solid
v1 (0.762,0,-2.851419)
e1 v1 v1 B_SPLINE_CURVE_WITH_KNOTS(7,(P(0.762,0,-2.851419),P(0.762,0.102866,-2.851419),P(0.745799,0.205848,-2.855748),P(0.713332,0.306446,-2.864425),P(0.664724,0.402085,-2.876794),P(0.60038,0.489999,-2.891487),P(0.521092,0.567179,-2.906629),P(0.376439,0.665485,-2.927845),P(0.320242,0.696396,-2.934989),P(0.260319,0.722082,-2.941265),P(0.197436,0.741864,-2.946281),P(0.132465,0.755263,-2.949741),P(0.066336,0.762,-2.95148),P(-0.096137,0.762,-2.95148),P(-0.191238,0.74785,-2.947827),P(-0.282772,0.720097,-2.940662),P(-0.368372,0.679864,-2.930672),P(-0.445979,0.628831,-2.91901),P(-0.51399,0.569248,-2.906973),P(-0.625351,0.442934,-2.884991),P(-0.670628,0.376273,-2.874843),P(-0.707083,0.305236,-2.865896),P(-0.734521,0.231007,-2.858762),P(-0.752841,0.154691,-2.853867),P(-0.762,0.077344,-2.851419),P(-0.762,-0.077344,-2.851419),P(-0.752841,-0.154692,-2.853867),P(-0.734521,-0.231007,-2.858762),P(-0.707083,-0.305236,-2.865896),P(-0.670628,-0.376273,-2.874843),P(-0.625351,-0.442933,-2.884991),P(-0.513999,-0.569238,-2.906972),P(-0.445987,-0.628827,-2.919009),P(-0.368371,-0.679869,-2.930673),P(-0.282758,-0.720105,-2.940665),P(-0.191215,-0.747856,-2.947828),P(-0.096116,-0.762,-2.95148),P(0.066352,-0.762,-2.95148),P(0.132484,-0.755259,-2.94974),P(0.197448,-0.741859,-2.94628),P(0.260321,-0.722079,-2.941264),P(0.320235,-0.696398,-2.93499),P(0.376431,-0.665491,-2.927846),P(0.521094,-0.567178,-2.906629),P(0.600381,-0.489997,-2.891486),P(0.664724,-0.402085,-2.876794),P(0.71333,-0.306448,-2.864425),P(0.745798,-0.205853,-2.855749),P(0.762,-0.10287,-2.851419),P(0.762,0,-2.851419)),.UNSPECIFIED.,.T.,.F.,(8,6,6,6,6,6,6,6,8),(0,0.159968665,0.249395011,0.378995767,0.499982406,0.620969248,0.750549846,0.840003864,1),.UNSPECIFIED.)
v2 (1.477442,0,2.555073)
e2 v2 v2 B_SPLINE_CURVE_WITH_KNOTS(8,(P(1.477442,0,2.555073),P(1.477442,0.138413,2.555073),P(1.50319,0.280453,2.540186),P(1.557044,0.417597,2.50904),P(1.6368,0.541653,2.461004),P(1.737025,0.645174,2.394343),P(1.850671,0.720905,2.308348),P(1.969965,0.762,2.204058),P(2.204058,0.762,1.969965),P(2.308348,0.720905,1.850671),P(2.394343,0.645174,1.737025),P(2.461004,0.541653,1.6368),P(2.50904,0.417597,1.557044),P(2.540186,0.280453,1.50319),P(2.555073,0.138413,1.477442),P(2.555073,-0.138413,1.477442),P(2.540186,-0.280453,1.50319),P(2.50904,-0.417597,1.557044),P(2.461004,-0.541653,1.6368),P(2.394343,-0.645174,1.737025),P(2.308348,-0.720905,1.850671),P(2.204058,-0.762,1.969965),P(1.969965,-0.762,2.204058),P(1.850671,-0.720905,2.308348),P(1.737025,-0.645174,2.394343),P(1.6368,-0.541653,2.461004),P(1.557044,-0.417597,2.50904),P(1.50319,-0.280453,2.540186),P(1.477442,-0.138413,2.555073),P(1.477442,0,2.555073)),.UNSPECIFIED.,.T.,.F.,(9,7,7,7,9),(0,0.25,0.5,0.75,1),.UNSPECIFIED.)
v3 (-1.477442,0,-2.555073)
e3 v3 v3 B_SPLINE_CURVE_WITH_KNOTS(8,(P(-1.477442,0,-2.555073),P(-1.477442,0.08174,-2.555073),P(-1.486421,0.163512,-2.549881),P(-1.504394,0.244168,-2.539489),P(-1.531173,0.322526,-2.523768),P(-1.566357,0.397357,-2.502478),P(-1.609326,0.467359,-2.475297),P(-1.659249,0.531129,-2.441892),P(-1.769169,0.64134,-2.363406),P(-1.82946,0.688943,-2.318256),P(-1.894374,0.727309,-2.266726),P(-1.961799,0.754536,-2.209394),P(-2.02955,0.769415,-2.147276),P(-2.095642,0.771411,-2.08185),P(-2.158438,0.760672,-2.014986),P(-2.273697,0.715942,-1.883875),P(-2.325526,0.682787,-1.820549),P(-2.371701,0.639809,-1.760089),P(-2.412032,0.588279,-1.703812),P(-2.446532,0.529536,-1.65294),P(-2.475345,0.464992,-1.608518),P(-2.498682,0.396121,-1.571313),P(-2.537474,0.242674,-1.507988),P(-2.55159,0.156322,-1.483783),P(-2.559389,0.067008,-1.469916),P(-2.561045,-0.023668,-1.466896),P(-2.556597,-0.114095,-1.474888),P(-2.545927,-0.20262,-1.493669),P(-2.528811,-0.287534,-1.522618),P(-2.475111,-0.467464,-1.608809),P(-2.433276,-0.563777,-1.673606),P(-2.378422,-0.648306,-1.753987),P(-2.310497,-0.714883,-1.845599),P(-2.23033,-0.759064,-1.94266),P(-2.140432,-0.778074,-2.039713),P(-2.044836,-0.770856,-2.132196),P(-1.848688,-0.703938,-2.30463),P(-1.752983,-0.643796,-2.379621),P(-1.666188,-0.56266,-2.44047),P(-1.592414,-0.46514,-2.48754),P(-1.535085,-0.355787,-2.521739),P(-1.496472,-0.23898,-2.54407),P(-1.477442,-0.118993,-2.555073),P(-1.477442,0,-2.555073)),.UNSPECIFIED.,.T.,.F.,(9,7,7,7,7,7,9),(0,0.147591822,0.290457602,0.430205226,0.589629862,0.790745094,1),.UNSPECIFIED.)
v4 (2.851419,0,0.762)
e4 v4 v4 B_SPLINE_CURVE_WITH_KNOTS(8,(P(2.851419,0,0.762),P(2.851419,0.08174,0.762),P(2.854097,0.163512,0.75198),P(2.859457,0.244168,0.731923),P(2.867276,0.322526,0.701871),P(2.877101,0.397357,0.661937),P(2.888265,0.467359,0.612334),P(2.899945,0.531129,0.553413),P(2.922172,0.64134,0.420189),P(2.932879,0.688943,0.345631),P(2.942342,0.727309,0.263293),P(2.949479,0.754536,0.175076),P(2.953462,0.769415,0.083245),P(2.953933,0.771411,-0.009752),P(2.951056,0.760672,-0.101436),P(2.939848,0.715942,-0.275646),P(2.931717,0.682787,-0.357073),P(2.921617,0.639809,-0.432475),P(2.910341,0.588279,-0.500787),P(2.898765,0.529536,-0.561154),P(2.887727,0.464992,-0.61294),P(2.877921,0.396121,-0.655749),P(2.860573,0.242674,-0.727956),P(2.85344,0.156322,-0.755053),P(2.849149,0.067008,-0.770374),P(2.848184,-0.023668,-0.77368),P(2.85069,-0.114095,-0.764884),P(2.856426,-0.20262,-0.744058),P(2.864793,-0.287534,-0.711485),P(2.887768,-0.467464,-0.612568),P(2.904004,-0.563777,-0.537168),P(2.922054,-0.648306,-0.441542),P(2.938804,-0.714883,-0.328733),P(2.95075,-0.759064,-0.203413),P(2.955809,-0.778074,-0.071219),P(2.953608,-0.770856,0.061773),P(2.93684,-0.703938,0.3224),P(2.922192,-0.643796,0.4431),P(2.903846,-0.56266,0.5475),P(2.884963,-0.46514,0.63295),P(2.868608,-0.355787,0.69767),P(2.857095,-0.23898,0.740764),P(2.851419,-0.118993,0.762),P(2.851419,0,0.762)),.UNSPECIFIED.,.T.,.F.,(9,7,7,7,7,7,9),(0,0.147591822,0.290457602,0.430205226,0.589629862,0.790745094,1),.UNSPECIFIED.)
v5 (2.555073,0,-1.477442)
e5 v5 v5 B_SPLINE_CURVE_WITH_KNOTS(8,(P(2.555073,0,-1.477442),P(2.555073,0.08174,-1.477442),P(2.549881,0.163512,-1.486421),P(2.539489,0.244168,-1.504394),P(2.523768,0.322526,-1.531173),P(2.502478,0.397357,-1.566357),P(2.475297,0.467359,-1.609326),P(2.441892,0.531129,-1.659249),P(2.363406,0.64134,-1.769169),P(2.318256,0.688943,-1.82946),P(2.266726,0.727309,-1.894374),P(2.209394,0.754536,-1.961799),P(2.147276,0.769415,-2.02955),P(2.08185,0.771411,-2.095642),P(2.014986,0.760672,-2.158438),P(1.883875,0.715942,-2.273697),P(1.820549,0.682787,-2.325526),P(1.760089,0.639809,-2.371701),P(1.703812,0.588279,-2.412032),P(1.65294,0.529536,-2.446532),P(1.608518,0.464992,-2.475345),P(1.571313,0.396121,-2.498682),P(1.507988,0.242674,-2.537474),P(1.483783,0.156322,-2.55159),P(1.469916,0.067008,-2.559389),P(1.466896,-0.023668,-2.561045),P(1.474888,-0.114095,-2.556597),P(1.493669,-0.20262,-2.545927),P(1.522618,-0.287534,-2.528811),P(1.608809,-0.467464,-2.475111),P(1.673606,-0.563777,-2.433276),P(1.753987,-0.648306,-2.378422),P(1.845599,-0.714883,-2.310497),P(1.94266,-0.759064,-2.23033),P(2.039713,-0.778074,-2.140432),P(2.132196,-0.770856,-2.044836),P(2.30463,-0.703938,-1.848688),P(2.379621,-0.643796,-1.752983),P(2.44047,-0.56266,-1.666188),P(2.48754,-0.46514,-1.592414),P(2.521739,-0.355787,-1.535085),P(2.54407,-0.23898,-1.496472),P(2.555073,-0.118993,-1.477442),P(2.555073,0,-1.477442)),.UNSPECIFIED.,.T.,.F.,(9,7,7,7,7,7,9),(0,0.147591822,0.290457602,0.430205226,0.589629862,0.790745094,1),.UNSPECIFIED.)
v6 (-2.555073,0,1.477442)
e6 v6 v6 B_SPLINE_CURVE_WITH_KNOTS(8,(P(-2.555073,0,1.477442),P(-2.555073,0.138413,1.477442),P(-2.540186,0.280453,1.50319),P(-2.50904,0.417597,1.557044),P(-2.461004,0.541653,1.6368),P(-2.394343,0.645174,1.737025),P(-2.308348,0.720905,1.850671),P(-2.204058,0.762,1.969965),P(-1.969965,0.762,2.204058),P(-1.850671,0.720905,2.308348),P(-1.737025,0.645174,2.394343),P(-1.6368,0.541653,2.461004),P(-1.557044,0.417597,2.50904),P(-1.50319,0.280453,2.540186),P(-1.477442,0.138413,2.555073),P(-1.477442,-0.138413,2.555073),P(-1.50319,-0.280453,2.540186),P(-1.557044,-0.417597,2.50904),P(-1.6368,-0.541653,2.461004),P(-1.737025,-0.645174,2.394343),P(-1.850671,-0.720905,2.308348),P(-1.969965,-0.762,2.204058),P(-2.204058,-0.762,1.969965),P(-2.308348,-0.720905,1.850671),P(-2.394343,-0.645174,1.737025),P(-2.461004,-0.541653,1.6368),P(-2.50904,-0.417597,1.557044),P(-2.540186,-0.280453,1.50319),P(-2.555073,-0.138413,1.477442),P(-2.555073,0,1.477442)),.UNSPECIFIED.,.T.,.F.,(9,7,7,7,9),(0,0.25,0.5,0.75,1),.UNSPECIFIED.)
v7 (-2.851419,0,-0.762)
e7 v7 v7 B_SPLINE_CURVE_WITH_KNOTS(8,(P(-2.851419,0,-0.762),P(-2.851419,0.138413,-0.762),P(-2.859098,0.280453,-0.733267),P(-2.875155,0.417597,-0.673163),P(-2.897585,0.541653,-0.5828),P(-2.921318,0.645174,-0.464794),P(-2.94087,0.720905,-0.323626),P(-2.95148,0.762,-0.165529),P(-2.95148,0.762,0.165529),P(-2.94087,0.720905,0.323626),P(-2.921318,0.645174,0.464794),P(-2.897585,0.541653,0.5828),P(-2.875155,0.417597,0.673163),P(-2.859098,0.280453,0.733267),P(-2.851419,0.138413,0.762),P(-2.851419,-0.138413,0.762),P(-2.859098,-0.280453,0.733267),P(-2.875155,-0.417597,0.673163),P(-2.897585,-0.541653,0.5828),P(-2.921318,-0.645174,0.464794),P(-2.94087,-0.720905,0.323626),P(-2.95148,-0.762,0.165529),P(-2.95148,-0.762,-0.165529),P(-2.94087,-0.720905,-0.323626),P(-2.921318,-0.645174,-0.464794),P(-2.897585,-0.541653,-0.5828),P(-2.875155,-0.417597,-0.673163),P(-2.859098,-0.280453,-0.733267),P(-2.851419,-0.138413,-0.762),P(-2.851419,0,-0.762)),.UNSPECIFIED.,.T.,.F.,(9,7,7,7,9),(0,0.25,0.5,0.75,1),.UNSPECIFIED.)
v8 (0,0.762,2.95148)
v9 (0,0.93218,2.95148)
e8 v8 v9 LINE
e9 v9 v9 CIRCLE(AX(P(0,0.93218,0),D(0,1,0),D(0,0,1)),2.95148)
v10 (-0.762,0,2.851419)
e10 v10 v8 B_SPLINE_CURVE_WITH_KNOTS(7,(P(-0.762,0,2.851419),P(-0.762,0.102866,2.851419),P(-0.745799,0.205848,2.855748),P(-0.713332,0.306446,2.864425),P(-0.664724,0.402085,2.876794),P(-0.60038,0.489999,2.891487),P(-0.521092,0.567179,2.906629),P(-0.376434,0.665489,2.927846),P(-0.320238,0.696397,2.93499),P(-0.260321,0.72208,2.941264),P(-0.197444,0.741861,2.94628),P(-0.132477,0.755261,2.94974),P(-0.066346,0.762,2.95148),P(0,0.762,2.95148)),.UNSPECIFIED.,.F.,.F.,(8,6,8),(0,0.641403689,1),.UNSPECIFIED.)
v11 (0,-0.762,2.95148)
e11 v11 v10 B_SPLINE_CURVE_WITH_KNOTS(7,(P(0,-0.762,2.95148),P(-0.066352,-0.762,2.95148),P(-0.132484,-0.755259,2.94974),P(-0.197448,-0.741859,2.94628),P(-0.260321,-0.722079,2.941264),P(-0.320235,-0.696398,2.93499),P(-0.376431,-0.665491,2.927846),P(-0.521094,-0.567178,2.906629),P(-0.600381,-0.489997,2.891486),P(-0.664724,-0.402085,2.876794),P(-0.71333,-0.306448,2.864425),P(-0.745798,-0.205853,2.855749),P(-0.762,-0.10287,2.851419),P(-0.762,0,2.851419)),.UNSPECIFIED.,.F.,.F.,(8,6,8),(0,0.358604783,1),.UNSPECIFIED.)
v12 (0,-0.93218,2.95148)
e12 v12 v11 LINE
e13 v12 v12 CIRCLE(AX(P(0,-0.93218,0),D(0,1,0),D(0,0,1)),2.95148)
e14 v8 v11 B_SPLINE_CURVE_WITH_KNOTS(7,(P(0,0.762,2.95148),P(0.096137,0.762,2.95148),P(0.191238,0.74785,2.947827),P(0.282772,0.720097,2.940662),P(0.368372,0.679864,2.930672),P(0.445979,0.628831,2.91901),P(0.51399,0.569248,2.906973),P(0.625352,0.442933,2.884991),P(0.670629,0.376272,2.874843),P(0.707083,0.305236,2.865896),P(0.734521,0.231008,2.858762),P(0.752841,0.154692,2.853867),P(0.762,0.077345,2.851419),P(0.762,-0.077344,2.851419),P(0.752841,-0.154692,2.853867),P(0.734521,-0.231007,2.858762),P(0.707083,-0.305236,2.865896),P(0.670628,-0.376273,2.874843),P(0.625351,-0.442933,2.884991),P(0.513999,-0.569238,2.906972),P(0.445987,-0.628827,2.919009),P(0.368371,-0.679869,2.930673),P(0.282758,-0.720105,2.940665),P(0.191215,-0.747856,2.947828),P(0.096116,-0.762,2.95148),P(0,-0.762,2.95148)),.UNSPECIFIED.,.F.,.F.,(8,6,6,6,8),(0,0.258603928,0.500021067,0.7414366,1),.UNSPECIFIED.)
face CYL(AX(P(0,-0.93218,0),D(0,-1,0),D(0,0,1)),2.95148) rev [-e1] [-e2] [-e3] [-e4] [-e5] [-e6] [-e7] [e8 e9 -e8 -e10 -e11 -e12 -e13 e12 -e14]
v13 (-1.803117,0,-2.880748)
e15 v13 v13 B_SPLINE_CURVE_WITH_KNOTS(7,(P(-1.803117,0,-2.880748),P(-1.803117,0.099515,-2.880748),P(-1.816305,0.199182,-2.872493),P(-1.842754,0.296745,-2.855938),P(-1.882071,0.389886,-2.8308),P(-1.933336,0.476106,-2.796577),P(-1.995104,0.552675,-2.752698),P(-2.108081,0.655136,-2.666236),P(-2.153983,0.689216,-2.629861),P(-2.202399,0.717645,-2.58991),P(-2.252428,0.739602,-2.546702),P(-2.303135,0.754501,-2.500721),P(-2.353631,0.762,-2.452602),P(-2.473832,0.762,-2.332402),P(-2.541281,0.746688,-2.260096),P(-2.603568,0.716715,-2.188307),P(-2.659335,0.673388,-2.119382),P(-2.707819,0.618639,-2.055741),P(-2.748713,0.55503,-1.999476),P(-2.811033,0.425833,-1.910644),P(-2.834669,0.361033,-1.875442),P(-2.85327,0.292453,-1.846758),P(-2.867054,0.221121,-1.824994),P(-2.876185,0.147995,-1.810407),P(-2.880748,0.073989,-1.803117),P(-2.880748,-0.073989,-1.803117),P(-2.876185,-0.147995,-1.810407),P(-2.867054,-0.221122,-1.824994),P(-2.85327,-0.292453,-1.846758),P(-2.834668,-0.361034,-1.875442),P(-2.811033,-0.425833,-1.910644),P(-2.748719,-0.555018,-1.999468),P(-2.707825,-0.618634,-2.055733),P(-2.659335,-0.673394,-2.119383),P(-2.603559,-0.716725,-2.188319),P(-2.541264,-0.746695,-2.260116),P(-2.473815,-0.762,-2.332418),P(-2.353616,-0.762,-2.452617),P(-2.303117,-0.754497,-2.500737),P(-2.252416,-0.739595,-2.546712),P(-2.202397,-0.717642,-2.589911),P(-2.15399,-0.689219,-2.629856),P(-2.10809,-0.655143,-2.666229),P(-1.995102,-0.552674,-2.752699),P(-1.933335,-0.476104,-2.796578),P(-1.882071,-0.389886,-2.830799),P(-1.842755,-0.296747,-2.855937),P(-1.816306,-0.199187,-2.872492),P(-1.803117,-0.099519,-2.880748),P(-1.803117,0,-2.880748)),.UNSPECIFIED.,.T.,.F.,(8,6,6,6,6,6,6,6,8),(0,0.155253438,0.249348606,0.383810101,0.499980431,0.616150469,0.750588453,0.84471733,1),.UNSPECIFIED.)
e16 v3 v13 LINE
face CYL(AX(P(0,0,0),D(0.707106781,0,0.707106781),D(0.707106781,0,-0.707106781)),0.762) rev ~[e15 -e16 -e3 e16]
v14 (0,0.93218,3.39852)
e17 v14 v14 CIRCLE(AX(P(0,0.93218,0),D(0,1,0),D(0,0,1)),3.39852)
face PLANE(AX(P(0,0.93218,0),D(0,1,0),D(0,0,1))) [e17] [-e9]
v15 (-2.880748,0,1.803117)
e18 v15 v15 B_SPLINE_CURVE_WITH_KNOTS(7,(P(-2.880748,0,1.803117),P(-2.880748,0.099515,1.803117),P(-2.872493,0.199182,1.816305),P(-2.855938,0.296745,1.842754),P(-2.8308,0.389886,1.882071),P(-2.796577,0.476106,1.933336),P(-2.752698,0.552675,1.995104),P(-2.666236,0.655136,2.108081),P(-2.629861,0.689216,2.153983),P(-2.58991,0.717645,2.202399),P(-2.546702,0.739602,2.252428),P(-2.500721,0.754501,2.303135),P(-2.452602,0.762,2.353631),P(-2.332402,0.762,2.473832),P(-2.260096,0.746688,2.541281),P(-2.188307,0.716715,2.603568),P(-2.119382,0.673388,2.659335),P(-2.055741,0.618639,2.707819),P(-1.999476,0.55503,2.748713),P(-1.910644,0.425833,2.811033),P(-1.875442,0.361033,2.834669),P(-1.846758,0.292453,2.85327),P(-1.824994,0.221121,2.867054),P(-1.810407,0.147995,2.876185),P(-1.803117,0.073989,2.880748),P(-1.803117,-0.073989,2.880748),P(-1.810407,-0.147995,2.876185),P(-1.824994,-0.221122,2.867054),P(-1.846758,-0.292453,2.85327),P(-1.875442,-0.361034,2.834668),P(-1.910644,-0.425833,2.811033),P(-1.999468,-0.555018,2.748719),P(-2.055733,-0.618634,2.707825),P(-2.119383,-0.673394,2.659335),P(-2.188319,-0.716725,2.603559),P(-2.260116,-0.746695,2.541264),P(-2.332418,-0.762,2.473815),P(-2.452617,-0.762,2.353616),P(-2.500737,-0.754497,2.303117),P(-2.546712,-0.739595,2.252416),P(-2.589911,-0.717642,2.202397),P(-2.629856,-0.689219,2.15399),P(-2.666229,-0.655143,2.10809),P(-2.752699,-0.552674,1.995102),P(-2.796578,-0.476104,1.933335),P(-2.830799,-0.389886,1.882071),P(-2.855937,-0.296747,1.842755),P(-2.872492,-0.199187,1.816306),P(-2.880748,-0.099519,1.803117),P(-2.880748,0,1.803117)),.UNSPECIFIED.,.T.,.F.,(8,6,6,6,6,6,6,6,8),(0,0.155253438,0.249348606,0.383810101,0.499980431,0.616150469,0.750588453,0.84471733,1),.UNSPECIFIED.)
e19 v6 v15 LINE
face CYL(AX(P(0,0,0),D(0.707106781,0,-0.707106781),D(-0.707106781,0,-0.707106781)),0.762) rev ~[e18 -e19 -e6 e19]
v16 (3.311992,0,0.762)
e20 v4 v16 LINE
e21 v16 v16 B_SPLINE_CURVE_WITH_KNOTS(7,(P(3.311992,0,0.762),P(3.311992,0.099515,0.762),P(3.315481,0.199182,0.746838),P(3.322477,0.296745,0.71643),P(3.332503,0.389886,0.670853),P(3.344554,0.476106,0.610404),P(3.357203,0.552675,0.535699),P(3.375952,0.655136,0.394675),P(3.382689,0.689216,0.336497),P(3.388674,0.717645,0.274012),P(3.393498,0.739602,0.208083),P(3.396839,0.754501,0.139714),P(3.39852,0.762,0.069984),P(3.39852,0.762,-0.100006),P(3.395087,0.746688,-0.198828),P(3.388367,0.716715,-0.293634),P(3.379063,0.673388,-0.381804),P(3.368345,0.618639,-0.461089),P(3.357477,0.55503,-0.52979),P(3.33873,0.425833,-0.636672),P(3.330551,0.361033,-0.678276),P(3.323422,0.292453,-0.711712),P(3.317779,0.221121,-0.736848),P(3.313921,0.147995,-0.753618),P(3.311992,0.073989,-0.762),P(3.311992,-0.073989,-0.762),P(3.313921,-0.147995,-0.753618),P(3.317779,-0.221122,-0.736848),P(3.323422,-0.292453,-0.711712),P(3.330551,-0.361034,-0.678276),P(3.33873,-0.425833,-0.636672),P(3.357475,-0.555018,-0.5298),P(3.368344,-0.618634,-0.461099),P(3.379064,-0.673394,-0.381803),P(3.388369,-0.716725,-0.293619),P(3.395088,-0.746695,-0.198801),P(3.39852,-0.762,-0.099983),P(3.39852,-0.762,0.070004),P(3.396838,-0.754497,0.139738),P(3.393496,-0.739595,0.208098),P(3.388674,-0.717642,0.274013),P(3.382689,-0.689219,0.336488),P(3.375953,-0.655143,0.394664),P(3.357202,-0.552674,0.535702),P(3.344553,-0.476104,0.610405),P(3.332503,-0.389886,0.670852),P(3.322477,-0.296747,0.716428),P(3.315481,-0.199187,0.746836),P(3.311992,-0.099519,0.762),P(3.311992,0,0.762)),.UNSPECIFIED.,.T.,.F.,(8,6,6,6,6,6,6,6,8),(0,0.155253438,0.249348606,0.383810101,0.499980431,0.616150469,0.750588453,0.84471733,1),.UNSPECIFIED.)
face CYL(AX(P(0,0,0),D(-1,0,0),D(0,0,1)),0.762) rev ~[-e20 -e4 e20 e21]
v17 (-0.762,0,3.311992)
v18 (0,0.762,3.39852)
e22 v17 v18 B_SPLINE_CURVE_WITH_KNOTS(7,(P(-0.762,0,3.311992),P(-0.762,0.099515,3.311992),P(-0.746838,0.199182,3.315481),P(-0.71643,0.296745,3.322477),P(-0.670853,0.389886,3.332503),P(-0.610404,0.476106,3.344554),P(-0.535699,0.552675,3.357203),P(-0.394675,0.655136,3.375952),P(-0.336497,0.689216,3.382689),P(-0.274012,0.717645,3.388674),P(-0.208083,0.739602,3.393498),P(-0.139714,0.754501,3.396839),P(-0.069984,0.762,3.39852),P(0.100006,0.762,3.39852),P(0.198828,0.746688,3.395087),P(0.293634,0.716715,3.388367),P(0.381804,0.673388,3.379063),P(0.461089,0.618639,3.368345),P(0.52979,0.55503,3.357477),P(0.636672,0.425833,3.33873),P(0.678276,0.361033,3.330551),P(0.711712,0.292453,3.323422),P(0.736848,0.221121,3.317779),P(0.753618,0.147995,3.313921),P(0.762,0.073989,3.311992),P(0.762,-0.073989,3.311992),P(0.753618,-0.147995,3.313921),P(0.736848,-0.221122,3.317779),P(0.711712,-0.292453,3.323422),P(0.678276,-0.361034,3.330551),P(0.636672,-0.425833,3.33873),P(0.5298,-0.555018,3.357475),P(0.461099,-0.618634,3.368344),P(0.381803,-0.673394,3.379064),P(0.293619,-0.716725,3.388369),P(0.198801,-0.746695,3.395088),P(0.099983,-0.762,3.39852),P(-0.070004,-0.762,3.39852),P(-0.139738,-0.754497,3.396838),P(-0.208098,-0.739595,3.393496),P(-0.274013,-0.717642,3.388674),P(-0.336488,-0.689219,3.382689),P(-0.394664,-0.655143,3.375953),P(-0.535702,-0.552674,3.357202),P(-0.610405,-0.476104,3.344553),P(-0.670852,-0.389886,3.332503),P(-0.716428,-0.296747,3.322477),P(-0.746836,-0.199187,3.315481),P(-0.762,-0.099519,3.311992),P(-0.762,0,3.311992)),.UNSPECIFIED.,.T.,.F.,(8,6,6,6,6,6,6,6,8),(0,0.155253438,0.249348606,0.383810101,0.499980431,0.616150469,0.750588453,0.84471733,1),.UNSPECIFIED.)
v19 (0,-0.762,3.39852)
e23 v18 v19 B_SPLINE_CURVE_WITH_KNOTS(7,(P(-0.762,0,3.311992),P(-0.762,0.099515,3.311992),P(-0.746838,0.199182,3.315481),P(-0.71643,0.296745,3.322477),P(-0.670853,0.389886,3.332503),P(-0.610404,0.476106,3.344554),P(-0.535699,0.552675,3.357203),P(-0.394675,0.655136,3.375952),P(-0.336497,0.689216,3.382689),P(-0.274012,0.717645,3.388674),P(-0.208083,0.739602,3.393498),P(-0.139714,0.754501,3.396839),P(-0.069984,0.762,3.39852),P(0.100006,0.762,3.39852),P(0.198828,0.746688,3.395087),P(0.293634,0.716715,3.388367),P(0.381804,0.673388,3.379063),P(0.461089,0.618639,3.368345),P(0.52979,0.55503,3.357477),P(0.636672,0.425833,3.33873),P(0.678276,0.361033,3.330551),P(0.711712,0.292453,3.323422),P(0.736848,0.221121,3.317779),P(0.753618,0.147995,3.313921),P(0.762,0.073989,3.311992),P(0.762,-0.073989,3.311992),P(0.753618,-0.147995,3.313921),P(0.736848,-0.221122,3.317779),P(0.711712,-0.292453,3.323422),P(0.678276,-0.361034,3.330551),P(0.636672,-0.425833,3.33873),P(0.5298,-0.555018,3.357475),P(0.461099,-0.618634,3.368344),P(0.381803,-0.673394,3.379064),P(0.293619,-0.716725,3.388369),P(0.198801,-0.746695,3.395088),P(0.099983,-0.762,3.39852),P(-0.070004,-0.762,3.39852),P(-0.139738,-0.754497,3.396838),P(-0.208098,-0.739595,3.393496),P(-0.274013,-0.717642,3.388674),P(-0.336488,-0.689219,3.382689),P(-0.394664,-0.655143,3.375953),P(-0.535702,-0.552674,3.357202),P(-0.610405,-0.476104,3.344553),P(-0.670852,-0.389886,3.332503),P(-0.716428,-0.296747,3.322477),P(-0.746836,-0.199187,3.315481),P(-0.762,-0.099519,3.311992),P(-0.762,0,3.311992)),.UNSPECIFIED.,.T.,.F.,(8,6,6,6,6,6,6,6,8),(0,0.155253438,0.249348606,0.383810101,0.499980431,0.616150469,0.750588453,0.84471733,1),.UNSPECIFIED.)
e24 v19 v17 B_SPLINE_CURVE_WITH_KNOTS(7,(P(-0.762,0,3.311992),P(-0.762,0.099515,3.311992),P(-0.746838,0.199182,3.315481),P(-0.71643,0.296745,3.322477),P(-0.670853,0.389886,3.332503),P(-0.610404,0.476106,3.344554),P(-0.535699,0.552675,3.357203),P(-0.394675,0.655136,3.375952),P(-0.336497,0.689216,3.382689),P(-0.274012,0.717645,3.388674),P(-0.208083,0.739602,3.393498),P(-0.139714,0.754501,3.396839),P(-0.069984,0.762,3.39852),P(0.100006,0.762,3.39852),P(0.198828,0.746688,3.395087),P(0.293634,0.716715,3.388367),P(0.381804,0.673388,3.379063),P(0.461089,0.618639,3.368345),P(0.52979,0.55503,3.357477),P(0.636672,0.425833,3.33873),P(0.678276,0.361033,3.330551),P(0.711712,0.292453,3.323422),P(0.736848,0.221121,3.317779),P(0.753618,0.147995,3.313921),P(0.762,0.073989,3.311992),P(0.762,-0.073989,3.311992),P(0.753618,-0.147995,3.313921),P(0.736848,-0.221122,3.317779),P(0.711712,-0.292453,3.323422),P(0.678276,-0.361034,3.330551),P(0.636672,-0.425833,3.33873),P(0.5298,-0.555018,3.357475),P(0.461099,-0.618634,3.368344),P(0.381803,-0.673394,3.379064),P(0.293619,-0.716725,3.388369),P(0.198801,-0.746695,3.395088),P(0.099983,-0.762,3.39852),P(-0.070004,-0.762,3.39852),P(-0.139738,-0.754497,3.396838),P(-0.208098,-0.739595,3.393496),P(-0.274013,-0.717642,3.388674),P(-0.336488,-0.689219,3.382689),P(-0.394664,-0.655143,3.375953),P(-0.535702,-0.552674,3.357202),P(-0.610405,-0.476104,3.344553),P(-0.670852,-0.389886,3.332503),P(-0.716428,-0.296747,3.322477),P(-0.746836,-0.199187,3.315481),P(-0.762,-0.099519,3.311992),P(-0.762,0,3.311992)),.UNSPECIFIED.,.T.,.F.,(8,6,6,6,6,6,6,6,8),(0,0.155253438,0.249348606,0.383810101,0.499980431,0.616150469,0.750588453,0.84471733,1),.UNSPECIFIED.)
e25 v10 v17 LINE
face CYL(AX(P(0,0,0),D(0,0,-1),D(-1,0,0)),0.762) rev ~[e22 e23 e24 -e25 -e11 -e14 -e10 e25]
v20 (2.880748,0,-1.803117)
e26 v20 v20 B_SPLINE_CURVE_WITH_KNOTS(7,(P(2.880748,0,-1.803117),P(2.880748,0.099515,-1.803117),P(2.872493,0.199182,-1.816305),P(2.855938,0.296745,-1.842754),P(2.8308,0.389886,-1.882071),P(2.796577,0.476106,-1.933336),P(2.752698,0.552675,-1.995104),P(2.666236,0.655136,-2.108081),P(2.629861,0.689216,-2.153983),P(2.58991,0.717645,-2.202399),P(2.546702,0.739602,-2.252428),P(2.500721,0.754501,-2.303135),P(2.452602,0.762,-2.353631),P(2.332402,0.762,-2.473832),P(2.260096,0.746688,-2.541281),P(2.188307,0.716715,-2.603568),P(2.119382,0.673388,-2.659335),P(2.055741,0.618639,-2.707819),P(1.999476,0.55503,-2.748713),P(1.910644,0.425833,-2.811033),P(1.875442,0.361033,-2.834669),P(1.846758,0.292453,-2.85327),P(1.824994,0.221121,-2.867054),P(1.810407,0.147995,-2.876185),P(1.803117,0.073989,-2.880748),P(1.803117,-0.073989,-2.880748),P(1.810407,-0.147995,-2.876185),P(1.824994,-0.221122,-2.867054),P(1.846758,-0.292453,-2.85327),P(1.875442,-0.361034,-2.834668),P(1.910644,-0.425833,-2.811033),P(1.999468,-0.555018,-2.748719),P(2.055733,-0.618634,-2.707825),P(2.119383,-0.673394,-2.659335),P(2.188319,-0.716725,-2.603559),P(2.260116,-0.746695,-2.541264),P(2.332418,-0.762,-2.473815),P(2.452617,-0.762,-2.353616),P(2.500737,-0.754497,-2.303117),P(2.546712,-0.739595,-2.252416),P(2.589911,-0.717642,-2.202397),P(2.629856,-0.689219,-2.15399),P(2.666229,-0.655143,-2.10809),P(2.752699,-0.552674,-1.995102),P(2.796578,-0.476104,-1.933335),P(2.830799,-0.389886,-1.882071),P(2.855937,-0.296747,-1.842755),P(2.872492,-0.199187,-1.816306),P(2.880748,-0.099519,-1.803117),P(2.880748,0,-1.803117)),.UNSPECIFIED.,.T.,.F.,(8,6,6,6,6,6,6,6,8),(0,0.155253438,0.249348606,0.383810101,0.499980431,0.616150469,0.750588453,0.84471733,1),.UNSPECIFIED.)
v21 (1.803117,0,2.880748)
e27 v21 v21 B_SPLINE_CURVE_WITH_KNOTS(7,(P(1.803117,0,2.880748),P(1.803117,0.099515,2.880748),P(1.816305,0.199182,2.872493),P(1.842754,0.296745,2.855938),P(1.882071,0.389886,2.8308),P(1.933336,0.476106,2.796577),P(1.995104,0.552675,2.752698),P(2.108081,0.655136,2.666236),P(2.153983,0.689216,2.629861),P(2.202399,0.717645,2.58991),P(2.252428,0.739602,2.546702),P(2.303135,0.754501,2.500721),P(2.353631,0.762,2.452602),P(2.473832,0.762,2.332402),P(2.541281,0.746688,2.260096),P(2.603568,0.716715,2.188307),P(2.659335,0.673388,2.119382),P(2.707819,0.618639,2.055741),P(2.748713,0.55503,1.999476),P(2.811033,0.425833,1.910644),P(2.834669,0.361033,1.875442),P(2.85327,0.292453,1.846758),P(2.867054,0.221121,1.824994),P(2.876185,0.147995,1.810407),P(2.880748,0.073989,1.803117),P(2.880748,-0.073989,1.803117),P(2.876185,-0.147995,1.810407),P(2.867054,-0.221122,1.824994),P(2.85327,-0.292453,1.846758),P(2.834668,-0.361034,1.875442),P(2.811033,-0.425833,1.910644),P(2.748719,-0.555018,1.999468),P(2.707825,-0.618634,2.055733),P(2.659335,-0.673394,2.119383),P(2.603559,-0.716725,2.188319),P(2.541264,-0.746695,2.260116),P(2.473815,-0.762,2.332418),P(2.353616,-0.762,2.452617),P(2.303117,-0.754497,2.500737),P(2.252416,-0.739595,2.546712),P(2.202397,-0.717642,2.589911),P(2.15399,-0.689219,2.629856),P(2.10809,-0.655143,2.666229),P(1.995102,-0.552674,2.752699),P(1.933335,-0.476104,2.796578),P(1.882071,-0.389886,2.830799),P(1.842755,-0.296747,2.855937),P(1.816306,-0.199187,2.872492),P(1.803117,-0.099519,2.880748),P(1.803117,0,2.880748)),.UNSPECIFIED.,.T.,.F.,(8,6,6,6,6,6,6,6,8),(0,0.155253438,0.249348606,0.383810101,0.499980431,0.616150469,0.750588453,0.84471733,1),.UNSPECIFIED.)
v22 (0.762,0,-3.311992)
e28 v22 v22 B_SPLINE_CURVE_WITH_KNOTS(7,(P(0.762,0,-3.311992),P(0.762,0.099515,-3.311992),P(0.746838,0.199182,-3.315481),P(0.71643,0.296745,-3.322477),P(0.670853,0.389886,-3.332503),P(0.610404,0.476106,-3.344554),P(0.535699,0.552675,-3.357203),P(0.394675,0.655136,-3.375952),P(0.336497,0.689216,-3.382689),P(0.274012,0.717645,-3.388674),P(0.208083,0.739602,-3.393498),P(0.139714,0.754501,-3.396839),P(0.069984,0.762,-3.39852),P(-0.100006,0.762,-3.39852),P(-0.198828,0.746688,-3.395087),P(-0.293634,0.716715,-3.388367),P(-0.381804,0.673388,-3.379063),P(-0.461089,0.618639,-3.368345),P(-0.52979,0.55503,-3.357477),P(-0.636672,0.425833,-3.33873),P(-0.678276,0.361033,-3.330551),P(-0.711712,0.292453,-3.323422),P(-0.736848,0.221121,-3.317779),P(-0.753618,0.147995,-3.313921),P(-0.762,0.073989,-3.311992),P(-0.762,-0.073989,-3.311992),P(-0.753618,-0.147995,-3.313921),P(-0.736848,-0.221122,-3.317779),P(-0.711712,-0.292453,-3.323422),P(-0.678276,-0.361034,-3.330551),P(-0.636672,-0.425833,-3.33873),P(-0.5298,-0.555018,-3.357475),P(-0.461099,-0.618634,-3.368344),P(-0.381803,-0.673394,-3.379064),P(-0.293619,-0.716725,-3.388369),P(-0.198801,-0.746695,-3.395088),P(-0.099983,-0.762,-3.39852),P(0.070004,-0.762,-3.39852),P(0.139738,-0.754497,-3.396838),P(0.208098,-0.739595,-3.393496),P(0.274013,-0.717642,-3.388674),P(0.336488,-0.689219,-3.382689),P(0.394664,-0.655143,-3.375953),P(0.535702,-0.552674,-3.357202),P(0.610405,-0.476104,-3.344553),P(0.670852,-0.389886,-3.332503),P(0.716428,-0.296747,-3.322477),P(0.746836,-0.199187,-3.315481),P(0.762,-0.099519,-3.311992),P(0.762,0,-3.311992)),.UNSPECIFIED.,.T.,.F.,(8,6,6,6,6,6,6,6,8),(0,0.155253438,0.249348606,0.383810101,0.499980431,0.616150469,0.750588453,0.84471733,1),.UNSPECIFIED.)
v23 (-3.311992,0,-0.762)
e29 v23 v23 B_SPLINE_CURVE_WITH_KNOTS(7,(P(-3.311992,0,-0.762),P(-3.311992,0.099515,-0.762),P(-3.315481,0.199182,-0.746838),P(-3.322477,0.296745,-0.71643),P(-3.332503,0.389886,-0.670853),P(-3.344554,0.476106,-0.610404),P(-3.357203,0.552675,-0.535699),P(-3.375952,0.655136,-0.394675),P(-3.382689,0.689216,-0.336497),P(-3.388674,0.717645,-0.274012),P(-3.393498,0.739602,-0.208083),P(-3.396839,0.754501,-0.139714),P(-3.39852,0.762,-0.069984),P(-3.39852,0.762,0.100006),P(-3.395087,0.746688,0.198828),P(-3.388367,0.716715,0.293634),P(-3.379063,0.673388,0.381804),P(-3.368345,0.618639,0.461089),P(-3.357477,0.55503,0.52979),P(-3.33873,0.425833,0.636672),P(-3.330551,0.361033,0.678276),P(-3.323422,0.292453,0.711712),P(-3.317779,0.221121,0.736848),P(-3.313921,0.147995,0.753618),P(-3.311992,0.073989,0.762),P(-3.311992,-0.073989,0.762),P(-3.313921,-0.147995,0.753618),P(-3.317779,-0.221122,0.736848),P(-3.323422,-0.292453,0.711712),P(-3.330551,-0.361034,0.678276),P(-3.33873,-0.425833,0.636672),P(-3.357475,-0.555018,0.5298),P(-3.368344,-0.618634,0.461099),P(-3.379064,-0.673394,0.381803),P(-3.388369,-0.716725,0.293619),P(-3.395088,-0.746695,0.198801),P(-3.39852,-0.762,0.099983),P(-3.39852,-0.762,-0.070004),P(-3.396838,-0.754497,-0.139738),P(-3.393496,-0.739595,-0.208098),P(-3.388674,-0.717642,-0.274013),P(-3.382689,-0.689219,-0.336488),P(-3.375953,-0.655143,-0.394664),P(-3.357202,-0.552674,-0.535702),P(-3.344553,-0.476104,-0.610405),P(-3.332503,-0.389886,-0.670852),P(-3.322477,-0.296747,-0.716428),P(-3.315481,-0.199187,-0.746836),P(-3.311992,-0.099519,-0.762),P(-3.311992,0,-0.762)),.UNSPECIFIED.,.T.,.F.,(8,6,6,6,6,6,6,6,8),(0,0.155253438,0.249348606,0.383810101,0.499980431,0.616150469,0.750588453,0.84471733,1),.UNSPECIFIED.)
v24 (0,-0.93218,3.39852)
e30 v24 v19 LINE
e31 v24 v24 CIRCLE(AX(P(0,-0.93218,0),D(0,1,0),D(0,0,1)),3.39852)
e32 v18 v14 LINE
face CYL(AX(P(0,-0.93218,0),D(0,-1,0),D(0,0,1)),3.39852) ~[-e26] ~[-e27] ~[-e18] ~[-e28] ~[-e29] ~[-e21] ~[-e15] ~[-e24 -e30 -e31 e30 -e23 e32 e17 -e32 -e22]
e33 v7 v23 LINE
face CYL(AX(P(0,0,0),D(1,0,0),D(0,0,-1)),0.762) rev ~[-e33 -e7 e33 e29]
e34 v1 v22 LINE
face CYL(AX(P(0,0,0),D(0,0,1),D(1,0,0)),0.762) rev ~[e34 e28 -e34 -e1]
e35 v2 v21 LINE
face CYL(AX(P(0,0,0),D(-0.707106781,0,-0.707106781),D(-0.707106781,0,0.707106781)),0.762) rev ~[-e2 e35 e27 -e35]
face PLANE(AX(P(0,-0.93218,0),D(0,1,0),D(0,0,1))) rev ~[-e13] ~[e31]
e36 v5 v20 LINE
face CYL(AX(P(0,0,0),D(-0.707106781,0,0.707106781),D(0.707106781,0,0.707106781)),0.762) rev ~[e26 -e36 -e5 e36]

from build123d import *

# Parameters (mm, degrees)
BOSS_EXTRUDE1_DEPTH      = 0.93218
BOSS_EXTRUDE1_DEPTH_BACK = 0.93218
SKETCH1_R                = 3.39852
SKETCH1_R_2              = 2.95148
CUT_EXTRUDE1_REACH       = 6.896
CUT_EXTRUDE1_END_RADIUS  = 3.39852
SKETCH3_R                = 0.762
CIRPATTERN1_COUNT        = 8


with BuildPart() as part:
    # Sketch1 → Boss-Extrude1 (new, two sides: drawn at the far end of the back side and taken through both)
    with BuildSketch(Plane(origin=(0, 0, 0), x_dir=(1, 0, 0), z_dir=(0, 1, 0)).offset(-BOSS_EXTRUDE1_DEPTH_BACK)):
        with Locations(Location((0, 0, 0), (0, 0, 270))):
            Circle(SKETCH1_R)
        with Locations(Location((0, 0, 0), (0, 0, 270))):
            Circle(SKETCH1_R_2, mode=Mode.SUBTRACT)
    extrude(amount=BOSS_EXTRUDE1_DEPTH + BOSS_EXTRUDE1_DEPTH_BACK)

    # Cut-Extrude1: up to this cylinder (the profile starts inside it)
    cut_extrude1_end = Plane(origin=(0, 0, 0), z_dir=(0, 1, 0)) * Cylinder(CUT_EXTRUDE1_END_RADIUS, 21.58904, mode=Mode.PRIVATE)
    # Sketch3 → Cut-Extrude1 (cut, up to the surface)
    with BuildSketch(Plane.XY, mode=Mode.PRIVATE) as cut_extrude1_sk1:
        Circle(SKETCH3_R)
    cut_extrude1_tool1 = extrude(cut_extrude1_sk1.sketch, amount=-CUT_EXTRUDE1_REACH, mode=Mode.PRIVATE) & cut_extrude1_end
    cut_extrude1 = cut_extrude1_tool1.solids().sort_by_distance((0, 0, 0))[0]
    add(cut_extrude1, mode=Mode.SUBTRACT)

    # CirPattern1: Cut-Extrude1 ×8 about axis
    cirpattern1_axis = Axis((0, 0, 0), (0, 1, 0))
    for i in range(1, CIRPATTERN1_COUNT):
        add(cut_extrude1.rotate(cirpattern1_axis, i * 360 / CIRPATTERN1_COUNT), mode=Mode.SUBTRACT)


solid = part.part
